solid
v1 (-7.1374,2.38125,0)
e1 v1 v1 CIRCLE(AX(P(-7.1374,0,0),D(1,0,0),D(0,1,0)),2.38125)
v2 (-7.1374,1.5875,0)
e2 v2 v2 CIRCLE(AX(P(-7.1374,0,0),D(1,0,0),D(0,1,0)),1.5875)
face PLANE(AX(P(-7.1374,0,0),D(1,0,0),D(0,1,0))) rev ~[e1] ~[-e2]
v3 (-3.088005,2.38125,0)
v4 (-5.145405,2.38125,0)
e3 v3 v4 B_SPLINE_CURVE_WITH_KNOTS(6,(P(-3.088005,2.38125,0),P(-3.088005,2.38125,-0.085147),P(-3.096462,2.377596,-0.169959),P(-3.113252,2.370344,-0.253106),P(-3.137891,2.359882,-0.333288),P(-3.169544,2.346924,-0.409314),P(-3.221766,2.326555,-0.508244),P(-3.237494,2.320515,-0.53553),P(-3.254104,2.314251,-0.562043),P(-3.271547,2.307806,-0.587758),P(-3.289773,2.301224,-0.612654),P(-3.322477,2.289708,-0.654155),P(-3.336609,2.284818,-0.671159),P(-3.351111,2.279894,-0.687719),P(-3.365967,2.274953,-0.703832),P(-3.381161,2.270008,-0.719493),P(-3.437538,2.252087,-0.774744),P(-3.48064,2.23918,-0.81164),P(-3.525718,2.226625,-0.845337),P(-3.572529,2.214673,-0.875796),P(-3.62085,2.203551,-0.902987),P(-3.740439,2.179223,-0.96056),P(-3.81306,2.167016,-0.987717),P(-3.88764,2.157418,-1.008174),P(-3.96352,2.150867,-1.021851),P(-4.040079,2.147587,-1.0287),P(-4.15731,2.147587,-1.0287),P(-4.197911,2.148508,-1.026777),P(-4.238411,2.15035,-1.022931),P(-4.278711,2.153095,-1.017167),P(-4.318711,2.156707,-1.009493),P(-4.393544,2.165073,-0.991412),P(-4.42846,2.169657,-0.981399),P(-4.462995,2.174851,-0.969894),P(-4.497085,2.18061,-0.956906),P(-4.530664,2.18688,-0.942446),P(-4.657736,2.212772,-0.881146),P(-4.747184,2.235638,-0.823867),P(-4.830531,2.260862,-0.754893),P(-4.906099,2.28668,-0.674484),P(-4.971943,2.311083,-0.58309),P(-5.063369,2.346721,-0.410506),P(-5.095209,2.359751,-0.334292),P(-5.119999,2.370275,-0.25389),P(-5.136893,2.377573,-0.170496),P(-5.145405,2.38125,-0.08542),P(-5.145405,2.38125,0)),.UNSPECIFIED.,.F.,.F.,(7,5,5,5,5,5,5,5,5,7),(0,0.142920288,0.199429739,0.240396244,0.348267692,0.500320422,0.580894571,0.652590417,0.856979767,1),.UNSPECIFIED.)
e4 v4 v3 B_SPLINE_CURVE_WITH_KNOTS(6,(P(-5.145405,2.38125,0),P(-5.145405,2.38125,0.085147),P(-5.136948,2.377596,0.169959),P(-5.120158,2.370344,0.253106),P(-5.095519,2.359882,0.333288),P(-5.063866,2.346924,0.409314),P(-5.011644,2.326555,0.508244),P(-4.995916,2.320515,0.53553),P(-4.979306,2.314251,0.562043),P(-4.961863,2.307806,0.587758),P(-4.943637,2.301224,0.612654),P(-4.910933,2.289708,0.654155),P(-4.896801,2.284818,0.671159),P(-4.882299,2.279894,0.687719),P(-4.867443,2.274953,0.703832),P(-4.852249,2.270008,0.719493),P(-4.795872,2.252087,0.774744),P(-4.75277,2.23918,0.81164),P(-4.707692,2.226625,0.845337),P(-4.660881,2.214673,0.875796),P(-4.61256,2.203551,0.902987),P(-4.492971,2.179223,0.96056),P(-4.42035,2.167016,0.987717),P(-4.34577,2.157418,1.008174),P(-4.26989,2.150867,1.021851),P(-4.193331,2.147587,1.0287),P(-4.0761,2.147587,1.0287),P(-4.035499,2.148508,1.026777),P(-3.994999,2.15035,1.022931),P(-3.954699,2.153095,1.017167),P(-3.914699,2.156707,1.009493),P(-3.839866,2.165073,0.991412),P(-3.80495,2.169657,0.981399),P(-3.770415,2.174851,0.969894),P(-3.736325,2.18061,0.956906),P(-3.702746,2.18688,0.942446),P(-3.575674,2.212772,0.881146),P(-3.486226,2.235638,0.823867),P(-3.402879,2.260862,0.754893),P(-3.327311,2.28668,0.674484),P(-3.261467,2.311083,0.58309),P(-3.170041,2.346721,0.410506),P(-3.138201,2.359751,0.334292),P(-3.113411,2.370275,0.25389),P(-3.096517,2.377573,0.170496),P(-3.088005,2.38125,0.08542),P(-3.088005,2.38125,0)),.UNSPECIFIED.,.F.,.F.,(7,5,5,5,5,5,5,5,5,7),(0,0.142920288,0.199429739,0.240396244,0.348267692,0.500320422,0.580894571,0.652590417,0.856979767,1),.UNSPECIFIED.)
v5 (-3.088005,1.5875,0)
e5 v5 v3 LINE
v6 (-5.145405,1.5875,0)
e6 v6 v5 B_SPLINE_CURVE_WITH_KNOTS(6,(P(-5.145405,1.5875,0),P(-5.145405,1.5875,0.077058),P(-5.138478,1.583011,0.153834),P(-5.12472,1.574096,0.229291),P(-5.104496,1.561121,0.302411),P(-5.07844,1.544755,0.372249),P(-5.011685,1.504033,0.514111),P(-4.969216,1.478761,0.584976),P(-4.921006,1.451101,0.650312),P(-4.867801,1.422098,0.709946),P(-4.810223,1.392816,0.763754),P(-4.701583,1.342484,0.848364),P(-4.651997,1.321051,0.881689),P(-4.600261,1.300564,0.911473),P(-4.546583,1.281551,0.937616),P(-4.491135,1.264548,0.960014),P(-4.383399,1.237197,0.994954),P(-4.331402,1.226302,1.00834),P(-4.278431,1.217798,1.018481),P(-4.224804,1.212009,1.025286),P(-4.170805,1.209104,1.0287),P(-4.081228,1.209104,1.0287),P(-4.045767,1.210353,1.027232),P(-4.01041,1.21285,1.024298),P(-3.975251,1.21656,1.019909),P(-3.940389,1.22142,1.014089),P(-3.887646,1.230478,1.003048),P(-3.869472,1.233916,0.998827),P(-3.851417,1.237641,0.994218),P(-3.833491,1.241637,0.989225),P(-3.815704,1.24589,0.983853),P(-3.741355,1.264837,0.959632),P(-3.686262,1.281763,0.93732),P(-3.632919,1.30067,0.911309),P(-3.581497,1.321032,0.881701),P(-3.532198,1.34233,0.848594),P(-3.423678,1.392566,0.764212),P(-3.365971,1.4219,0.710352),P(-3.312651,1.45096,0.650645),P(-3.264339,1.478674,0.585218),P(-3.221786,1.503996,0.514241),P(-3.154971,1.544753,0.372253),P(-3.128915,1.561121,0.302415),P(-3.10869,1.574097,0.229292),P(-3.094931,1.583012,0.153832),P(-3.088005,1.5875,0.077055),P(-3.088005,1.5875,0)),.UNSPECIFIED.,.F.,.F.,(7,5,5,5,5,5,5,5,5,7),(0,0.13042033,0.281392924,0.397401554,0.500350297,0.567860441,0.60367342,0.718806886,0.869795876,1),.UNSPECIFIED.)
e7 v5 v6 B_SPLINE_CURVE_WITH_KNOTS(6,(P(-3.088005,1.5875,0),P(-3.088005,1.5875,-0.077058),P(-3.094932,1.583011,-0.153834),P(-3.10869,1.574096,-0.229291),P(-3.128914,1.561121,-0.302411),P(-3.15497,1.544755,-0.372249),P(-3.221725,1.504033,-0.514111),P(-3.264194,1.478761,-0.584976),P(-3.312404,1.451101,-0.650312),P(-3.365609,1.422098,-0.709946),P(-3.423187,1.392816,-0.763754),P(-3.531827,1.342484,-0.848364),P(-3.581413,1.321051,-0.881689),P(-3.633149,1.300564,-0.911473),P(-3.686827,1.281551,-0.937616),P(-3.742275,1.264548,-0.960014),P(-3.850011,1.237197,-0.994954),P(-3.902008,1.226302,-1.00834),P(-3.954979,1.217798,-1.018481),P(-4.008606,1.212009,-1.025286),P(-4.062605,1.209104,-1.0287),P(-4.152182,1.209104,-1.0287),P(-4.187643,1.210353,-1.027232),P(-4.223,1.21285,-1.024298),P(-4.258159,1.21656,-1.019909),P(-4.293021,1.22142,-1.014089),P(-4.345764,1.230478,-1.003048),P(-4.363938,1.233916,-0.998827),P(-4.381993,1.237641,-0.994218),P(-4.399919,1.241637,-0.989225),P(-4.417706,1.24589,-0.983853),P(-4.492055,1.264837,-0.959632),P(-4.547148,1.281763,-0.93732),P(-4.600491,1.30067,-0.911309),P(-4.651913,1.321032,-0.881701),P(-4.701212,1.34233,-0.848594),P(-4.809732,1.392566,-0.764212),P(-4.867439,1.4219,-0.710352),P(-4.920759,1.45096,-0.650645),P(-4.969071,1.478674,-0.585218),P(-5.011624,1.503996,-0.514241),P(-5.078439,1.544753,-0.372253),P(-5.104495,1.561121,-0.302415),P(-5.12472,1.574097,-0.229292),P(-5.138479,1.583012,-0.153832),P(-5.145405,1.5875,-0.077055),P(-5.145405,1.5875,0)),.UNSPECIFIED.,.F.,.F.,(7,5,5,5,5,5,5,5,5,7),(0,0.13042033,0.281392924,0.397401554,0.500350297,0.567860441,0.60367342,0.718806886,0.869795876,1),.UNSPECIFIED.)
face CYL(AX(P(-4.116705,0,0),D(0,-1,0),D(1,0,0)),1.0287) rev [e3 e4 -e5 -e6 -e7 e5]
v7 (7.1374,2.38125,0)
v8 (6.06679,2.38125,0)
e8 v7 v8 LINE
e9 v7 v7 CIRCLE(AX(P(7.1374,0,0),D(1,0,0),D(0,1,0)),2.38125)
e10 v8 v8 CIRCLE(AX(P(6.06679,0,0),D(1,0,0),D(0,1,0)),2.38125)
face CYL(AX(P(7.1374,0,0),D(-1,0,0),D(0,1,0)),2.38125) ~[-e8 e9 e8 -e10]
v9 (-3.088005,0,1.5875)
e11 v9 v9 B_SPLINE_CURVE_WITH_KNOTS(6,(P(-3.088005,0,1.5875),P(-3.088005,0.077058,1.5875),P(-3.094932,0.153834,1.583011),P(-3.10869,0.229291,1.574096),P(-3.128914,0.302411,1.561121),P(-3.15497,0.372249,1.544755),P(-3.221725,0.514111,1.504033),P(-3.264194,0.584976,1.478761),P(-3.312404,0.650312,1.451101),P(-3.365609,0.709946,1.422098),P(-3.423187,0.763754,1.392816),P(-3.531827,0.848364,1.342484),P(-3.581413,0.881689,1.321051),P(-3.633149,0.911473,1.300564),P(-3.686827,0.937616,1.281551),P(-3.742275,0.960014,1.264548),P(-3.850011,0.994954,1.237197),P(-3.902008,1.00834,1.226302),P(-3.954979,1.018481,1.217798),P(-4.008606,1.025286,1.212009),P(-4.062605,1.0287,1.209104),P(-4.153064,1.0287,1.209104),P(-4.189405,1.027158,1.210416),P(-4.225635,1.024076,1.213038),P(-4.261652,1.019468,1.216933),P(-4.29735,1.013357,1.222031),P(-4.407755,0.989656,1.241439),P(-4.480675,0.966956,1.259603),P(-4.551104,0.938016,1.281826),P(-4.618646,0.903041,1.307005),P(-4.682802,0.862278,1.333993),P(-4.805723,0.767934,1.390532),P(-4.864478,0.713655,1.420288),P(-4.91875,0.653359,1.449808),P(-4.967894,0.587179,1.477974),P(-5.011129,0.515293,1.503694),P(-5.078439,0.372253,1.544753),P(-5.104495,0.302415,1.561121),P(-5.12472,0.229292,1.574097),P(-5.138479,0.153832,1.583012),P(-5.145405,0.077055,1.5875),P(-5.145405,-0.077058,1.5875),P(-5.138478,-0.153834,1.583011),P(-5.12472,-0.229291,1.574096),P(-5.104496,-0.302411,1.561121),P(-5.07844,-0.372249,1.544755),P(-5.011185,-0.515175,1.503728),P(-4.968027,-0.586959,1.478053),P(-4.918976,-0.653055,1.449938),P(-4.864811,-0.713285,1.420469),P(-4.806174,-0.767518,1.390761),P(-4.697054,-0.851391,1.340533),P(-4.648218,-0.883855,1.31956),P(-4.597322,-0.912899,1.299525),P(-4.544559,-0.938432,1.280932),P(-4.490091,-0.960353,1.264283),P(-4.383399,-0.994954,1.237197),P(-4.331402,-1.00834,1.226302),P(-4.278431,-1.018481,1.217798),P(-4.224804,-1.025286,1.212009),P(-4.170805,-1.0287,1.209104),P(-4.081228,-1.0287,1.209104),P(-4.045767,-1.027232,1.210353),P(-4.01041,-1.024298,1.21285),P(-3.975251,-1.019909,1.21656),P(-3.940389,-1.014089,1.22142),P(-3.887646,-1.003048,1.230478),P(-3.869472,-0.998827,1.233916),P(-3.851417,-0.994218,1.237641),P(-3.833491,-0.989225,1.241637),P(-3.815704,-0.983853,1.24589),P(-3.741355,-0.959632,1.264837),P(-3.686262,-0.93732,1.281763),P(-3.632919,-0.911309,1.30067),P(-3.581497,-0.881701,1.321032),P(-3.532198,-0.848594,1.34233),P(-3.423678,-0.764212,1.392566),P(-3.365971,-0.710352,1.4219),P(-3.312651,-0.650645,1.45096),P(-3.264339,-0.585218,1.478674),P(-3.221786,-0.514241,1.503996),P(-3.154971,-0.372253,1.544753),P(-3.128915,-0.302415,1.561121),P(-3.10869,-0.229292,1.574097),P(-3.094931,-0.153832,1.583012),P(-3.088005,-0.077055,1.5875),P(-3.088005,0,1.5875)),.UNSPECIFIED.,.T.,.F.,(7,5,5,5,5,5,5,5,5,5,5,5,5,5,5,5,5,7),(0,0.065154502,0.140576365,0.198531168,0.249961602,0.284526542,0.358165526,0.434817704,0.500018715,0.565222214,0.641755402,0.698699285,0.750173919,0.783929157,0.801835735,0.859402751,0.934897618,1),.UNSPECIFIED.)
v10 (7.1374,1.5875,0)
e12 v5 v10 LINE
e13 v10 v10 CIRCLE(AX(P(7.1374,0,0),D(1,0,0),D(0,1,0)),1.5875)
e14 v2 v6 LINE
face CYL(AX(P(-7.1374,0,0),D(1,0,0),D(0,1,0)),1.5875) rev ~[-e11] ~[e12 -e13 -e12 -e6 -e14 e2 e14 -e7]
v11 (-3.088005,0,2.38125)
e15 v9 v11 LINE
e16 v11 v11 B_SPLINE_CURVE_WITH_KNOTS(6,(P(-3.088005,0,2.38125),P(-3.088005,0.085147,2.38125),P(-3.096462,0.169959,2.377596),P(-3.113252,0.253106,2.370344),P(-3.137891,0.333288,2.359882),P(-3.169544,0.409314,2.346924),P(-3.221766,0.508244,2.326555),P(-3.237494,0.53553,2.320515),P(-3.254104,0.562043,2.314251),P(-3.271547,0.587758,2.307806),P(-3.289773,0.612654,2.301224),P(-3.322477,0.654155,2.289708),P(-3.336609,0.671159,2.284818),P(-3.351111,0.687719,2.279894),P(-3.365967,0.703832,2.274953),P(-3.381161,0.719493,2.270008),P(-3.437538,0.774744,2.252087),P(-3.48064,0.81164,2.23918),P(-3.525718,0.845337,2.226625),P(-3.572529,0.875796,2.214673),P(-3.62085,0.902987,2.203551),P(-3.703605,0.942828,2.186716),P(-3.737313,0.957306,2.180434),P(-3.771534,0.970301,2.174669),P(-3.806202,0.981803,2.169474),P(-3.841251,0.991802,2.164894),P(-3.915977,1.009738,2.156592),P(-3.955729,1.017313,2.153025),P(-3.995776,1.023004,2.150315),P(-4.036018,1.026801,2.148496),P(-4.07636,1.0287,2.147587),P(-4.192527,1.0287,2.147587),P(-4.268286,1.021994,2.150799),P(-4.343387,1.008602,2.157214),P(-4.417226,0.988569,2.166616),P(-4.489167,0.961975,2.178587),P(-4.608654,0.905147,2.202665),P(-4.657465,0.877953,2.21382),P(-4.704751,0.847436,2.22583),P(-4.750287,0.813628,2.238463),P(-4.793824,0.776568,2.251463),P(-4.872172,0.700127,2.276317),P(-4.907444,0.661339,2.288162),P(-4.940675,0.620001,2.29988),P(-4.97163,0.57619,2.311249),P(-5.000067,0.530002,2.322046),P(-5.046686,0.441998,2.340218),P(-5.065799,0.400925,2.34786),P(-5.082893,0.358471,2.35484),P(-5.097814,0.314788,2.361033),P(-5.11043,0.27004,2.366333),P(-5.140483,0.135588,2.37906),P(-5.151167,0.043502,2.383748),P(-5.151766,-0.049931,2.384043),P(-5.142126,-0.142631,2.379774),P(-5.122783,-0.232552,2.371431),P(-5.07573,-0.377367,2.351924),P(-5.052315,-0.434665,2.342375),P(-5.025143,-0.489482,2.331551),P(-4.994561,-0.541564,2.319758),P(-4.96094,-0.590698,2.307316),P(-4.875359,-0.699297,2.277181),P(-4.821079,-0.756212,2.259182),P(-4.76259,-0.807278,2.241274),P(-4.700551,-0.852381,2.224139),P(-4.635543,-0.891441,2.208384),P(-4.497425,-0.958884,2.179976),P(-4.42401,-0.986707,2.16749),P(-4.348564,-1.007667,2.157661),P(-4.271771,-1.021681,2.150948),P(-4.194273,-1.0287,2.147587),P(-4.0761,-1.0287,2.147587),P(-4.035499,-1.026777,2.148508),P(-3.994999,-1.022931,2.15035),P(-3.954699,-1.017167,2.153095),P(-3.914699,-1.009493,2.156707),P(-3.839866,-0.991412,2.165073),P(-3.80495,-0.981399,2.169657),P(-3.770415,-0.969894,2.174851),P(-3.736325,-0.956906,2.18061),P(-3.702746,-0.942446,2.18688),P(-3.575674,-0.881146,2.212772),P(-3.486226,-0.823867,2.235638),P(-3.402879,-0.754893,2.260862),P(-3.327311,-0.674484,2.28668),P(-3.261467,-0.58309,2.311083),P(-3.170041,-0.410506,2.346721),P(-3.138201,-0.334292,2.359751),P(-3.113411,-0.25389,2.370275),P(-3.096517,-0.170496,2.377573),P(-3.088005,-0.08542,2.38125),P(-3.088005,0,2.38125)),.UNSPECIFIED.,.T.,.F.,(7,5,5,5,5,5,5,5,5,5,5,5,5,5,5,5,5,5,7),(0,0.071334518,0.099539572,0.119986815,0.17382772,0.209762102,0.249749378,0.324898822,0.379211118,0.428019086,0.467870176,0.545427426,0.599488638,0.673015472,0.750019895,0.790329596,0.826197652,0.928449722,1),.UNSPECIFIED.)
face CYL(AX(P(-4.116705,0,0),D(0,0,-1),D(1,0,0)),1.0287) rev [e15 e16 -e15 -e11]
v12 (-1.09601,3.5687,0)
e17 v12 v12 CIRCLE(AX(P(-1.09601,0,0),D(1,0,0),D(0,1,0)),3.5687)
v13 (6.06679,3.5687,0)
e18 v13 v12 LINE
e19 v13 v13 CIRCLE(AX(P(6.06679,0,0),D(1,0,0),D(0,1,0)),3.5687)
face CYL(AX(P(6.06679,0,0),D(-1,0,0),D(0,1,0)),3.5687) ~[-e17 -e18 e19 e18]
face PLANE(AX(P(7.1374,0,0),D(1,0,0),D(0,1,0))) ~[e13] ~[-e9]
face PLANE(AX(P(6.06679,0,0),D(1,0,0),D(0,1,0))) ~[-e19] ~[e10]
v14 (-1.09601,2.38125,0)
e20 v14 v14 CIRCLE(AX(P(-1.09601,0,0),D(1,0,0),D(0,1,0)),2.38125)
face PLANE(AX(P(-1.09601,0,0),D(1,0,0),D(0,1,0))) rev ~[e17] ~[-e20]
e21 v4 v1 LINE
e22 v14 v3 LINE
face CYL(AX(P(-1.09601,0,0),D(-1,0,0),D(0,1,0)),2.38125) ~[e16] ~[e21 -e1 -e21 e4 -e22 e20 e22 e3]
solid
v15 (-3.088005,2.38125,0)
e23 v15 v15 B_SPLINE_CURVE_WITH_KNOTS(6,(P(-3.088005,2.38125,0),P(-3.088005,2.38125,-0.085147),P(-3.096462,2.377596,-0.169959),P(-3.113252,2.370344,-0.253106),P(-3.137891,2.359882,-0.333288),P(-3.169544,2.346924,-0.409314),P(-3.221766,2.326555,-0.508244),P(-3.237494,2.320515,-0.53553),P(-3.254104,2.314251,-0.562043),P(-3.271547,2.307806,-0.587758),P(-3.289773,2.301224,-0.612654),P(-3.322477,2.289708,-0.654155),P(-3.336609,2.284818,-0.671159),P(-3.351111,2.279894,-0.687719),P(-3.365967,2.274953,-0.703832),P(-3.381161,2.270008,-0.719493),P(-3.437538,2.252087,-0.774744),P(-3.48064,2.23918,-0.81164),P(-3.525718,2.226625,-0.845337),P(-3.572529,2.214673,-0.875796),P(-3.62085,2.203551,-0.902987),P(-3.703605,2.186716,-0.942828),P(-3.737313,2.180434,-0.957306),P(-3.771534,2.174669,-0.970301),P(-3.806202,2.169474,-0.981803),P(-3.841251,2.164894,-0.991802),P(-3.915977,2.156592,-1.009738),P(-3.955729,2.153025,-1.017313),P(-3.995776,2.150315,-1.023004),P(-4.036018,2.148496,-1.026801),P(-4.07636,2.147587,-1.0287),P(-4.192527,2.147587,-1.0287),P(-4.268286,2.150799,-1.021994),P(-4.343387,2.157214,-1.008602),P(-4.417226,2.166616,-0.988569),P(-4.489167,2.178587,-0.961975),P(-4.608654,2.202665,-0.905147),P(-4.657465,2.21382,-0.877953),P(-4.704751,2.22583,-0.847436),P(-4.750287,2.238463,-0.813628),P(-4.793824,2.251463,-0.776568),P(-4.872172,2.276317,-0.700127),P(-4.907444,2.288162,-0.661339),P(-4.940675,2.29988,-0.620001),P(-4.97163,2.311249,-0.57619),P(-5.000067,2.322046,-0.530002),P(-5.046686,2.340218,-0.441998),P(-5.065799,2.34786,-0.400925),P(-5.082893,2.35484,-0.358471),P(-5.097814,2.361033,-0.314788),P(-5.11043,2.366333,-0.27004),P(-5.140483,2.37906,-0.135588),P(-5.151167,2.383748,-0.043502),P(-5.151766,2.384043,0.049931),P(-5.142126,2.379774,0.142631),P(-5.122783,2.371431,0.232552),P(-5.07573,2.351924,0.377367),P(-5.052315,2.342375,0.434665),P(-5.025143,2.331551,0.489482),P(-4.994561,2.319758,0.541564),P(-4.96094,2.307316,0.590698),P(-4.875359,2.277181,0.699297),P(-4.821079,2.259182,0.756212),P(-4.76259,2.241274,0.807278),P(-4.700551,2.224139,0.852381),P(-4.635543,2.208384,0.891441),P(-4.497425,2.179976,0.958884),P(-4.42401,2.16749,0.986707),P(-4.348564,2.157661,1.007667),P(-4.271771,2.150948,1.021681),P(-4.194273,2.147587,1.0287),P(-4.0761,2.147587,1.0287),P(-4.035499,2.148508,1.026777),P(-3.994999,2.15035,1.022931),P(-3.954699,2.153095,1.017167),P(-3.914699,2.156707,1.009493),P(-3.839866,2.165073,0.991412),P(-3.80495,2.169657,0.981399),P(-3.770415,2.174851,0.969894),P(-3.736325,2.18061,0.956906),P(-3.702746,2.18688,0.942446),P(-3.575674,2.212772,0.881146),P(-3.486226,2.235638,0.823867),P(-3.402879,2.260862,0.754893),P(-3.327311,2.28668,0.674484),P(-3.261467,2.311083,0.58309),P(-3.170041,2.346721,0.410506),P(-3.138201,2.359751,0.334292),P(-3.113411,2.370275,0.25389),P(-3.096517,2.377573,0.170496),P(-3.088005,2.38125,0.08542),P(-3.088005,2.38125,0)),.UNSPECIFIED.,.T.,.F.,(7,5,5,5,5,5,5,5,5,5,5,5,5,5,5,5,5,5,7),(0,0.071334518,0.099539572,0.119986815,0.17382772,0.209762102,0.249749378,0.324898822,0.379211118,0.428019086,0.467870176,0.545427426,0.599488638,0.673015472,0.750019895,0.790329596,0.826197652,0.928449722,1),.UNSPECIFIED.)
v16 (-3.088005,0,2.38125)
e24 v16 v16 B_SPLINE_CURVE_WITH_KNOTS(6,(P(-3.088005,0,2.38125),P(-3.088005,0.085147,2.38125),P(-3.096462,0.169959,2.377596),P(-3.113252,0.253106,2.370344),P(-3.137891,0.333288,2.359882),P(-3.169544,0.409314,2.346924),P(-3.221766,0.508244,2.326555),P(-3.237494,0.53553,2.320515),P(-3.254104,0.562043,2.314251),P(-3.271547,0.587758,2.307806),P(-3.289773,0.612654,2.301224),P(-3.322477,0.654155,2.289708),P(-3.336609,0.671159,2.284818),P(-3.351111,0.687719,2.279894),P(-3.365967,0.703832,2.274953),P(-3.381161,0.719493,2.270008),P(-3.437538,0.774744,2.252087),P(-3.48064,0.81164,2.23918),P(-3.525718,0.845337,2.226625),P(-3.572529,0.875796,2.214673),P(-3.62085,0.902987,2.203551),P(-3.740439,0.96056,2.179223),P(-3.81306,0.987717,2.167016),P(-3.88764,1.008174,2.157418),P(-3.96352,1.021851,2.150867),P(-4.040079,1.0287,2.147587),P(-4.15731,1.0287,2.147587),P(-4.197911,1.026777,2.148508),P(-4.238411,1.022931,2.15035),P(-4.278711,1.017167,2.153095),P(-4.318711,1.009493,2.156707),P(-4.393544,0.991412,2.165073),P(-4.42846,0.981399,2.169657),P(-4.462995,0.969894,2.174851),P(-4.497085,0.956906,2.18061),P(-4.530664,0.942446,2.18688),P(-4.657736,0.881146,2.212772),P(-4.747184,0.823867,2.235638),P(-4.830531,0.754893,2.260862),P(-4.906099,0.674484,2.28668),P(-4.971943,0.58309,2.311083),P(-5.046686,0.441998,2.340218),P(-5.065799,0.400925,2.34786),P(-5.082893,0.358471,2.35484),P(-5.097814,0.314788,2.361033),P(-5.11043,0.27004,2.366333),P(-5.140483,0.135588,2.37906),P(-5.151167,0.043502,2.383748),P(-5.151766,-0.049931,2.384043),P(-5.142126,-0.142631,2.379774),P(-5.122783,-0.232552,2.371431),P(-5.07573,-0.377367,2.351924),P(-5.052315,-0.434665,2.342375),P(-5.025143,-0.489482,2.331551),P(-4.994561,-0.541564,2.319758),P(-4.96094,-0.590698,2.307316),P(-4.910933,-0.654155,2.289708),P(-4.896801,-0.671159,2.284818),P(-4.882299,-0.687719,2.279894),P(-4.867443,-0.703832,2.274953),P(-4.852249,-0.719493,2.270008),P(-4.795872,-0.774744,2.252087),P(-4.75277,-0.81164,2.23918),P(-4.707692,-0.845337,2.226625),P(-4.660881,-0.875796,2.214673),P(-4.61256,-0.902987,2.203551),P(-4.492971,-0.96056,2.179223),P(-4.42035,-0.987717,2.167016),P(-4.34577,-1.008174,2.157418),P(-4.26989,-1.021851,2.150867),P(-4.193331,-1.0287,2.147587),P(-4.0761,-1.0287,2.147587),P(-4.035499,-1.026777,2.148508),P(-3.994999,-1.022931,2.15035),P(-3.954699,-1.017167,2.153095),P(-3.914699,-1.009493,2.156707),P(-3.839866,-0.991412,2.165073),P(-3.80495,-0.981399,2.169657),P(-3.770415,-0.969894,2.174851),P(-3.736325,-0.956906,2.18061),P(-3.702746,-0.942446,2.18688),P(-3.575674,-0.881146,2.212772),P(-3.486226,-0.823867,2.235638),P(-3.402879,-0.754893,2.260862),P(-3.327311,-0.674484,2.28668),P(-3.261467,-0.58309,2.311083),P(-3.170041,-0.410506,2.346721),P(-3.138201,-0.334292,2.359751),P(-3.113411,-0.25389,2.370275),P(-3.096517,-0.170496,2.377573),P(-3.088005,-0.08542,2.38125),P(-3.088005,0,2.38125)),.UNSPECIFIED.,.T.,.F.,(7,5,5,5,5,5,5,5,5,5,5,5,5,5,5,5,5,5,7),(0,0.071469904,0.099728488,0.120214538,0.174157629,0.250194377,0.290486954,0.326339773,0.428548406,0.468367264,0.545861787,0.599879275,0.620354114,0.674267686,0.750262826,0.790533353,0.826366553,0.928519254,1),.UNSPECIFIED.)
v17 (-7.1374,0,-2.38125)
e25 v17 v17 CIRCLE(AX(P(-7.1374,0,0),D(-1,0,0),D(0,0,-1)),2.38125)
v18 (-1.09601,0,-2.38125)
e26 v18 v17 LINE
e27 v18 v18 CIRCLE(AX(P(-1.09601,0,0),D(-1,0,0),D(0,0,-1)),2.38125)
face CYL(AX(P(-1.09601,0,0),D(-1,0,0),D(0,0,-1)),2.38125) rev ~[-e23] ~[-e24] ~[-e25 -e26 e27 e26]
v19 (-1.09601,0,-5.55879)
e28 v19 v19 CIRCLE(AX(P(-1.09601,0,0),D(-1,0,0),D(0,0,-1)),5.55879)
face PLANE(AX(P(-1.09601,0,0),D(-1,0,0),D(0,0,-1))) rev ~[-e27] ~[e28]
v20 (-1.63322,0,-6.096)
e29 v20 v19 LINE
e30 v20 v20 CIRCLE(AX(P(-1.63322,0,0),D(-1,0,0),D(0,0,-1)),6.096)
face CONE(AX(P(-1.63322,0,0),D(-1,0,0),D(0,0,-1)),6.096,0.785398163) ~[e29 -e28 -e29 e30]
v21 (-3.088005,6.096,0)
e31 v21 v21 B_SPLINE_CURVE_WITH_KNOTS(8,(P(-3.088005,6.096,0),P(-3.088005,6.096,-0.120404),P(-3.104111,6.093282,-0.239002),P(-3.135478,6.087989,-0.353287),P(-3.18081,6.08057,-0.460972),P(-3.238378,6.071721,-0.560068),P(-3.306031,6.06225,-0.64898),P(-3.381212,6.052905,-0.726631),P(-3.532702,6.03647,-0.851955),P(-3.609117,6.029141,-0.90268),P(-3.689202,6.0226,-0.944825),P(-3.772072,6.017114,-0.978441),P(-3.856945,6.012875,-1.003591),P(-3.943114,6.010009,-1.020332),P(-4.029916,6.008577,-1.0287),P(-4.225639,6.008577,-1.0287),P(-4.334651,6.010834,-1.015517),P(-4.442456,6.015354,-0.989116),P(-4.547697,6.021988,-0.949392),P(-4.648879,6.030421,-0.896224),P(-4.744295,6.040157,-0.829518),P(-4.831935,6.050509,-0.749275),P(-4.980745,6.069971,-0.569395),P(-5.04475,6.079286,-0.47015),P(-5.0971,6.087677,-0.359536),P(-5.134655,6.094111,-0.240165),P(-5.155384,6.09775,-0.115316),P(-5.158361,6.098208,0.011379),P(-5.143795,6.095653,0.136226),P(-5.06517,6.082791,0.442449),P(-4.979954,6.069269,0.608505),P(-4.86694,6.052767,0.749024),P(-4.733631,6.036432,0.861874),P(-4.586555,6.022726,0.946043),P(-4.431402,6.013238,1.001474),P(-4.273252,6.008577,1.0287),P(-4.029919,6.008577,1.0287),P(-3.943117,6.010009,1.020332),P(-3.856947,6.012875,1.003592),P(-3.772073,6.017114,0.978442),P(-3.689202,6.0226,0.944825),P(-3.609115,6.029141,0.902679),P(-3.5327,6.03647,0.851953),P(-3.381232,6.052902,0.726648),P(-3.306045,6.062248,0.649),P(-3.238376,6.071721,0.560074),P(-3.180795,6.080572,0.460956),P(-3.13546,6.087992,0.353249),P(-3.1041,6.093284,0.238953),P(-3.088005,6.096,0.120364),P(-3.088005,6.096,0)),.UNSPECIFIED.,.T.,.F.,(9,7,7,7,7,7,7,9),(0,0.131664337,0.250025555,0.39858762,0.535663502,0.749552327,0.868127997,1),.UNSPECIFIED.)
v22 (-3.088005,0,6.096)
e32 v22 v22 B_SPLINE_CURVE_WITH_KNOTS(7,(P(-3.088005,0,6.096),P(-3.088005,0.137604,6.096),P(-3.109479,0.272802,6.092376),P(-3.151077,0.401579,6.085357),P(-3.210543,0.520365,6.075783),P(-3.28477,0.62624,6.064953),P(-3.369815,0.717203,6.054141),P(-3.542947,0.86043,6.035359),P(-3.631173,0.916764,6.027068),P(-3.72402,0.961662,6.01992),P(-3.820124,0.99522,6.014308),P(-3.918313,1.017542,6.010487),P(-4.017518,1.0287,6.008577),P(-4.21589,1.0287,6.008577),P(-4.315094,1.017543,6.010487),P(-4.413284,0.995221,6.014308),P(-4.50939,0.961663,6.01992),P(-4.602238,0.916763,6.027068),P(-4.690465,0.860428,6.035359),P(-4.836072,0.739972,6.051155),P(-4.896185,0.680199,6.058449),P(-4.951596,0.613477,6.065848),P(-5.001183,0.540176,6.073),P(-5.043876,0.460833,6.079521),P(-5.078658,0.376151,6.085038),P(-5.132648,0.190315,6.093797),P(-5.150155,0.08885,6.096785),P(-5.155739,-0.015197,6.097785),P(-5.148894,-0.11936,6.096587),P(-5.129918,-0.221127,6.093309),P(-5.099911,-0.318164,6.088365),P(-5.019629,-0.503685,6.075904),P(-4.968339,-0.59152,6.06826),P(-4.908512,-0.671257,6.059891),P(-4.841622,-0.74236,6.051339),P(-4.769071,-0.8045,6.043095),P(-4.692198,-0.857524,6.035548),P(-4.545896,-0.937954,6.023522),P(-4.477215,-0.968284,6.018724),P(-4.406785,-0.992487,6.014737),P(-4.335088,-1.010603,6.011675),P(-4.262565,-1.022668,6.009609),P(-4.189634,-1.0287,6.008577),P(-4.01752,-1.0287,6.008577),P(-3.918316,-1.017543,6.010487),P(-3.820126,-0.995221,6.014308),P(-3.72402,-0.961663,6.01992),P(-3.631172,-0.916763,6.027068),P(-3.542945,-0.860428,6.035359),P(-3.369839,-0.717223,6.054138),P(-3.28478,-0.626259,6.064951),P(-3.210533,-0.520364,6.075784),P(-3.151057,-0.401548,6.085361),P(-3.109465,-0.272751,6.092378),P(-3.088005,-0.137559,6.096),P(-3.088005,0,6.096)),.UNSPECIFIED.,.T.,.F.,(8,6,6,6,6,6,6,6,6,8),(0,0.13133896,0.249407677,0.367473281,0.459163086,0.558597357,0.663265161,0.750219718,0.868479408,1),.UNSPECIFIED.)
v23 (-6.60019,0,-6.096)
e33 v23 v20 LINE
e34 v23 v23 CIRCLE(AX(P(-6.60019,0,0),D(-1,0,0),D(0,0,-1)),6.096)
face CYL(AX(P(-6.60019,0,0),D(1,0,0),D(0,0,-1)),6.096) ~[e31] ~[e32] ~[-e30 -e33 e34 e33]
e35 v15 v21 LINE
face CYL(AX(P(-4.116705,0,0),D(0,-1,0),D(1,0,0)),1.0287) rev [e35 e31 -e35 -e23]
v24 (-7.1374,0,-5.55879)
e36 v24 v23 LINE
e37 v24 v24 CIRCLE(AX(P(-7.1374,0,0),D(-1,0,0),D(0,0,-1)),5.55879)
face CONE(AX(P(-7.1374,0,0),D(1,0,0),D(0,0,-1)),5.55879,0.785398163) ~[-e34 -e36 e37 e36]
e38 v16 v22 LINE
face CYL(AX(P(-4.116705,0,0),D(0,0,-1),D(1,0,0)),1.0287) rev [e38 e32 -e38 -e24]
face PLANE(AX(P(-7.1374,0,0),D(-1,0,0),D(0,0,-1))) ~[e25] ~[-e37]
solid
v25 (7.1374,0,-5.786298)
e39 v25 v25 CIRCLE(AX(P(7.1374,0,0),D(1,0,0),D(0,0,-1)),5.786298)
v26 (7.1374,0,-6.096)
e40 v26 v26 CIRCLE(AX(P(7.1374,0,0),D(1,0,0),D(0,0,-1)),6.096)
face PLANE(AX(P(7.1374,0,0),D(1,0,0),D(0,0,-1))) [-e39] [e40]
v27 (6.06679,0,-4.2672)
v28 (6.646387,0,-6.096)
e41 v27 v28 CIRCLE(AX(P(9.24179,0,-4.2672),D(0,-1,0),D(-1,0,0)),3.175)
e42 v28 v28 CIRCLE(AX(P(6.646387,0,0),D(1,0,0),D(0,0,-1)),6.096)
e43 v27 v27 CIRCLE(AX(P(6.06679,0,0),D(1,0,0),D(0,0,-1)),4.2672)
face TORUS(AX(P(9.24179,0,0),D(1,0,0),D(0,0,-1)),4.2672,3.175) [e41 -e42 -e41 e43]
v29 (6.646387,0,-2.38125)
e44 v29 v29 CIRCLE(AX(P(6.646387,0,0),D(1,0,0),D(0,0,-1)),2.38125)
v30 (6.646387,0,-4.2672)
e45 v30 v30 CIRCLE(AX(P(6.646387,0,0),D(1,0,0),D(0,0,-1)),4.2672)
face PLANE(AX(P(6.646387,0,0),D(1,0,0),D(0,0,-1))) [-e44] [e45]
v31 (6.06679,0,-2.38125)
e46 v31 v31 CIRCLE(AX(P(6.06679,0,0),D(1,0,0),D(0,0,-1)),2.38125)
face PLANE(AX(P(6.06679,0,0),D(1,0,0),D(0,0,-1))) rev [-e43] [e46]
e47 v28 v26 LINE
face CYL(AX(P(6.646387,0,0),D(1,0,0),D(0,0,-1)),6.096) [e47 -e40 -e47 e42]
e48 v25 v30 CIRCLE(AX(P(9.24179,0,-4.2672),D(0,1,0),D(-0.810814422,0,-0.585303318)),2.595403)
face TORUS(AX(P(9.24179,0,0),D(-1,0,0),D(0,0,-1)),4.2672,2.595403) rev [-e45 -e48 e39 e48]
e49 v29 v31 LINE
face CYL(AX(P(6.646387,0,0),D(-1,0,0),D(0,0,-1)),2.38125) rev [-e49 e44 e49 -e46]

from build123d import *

# Parameters (mm, degrees)
SKETCH5_R         = 1.0287
SET_SCREWS_DEPTH  = 10
CIRPATTERN1_COUNT = 2
CIRPATTERN1_ANGLE = 90


with BuildPart() as part:
    # Sketch2 → Base Body (revolve)
    with BuildSketch(Plane.XY):
        Polygon((-7.1374, 1.5875), (7.1374, 1.5875), (7.1374, 2.38125), (6.06679, 2.38125), (6.06679, 3.5687), (-1.09601, 3.5687), (-1.09601, 2.38125), (-7.1374, 2.38125), align=None)
    revolve(axis=Axis((-7.1374, 0, 0), (1, 0, 0)))


with BuildPart() as body_2:
    # Sketch3 → Hub (revolve)
    with BuildSketch(Plane(origin=(0, 0, 0), x_dir=(1, 0, 0), z_dir=(0, 1, 0))):
        Polygon((-1.09601, 2.38125), (-7.1374, 2.38125), (-7.1374, 5.55879), (-6.60019, 6.096), (-1.63322, 6.096), (-1.09601, 5.55879), align=None)
    revolve(axis=Axis((0, 0, 0), (-1, 0, 0)))


with BuildPart() as body_3:
    # Sketch4 → Flange (revolve)
    with BuildSketch(Plane(origin=(0, 0, 0), x_dir=(1, 0, 0), z_dir=(0, 1, 0))):
        with BuildLine():
            Line((6.06679, 2.38125), (6.06679, 4.2672))
            ThreePointArc((6.06679, 4.2672), (6.215155829, 5.226423955), (6.646387226, 6.096))
            Line((6.646387226, 6.096), (7.1374, 6.096))
            Line((7.1374, 6.096), (7.1374, 5.786297853))
            ThreePointArc((7.1374, 5.786297853), (6.772189303, 5.065440539), (6.646387226, 4.2672))
            Line((6.646387226, 4.2672), (6.646387226, 2.38125))
            Line((6.646387226, 2.38125), (6.06679, 2.38125))
        make_face()
    revolve(axis=Axis((0, 0, 0), (1, 0, 0)))


with BuildPart() as set_screws_tool:
    # Sketch5 → Set Screws (new body)
    with BuildSketch(Plane(origin=(0, 0, 0), x_dir=(1, 0, 0), z_dir=(0, 1, 0))):
        with Locations((-4.116705, 0)):
            Circle(SKETCH5_R)
    set_screws = extrude(amount=SET_SCREWS_DEPTH)


with BuildPart() as part_1:
    add(part.part)

    # Set Screws: cut by set_screws_tool
    add(set_screws_tool.part, mode=Mode.SUBTRACT)


with BuildPart() as body_2_1:
    add(body_2.part)

    # Set Screws: cut by set_screws_tool
    add(set_screws_tool.part, mode=Mode.SUBTRACT)


with BuildPart() as cirpattern1_tool:
    # CirPattern1: Set Screws ×2 about axis
    cirpattern1_axis = Axis((-7.1374, 0, 0), (1, 0, 0))
    for i in range(1, CIRPATTERN1_COUNT):
        add(set_screws.rotate(cirpattern1_axis, i * CIRPATTERN1_ANGLE / (CIRPATTERN1_COUNT - 1)))


with BuildPart() as part_2:
    add(part_1.part)

    # CirPattern1: cut by cirpattern1_tool
    add(cirpattern1_tool.part, mode=Mode.SUBTRACT)


with BuildPart() as body_2_2:
    add(body_2_1.part)

    # CirPattern1: cut by cirpattern1_tool
    add(cirpattern1_tool.part, mode=Mode.SUBTRACT)


solid = Compound([body_3.part, part_2.part, body_2_2.part])
